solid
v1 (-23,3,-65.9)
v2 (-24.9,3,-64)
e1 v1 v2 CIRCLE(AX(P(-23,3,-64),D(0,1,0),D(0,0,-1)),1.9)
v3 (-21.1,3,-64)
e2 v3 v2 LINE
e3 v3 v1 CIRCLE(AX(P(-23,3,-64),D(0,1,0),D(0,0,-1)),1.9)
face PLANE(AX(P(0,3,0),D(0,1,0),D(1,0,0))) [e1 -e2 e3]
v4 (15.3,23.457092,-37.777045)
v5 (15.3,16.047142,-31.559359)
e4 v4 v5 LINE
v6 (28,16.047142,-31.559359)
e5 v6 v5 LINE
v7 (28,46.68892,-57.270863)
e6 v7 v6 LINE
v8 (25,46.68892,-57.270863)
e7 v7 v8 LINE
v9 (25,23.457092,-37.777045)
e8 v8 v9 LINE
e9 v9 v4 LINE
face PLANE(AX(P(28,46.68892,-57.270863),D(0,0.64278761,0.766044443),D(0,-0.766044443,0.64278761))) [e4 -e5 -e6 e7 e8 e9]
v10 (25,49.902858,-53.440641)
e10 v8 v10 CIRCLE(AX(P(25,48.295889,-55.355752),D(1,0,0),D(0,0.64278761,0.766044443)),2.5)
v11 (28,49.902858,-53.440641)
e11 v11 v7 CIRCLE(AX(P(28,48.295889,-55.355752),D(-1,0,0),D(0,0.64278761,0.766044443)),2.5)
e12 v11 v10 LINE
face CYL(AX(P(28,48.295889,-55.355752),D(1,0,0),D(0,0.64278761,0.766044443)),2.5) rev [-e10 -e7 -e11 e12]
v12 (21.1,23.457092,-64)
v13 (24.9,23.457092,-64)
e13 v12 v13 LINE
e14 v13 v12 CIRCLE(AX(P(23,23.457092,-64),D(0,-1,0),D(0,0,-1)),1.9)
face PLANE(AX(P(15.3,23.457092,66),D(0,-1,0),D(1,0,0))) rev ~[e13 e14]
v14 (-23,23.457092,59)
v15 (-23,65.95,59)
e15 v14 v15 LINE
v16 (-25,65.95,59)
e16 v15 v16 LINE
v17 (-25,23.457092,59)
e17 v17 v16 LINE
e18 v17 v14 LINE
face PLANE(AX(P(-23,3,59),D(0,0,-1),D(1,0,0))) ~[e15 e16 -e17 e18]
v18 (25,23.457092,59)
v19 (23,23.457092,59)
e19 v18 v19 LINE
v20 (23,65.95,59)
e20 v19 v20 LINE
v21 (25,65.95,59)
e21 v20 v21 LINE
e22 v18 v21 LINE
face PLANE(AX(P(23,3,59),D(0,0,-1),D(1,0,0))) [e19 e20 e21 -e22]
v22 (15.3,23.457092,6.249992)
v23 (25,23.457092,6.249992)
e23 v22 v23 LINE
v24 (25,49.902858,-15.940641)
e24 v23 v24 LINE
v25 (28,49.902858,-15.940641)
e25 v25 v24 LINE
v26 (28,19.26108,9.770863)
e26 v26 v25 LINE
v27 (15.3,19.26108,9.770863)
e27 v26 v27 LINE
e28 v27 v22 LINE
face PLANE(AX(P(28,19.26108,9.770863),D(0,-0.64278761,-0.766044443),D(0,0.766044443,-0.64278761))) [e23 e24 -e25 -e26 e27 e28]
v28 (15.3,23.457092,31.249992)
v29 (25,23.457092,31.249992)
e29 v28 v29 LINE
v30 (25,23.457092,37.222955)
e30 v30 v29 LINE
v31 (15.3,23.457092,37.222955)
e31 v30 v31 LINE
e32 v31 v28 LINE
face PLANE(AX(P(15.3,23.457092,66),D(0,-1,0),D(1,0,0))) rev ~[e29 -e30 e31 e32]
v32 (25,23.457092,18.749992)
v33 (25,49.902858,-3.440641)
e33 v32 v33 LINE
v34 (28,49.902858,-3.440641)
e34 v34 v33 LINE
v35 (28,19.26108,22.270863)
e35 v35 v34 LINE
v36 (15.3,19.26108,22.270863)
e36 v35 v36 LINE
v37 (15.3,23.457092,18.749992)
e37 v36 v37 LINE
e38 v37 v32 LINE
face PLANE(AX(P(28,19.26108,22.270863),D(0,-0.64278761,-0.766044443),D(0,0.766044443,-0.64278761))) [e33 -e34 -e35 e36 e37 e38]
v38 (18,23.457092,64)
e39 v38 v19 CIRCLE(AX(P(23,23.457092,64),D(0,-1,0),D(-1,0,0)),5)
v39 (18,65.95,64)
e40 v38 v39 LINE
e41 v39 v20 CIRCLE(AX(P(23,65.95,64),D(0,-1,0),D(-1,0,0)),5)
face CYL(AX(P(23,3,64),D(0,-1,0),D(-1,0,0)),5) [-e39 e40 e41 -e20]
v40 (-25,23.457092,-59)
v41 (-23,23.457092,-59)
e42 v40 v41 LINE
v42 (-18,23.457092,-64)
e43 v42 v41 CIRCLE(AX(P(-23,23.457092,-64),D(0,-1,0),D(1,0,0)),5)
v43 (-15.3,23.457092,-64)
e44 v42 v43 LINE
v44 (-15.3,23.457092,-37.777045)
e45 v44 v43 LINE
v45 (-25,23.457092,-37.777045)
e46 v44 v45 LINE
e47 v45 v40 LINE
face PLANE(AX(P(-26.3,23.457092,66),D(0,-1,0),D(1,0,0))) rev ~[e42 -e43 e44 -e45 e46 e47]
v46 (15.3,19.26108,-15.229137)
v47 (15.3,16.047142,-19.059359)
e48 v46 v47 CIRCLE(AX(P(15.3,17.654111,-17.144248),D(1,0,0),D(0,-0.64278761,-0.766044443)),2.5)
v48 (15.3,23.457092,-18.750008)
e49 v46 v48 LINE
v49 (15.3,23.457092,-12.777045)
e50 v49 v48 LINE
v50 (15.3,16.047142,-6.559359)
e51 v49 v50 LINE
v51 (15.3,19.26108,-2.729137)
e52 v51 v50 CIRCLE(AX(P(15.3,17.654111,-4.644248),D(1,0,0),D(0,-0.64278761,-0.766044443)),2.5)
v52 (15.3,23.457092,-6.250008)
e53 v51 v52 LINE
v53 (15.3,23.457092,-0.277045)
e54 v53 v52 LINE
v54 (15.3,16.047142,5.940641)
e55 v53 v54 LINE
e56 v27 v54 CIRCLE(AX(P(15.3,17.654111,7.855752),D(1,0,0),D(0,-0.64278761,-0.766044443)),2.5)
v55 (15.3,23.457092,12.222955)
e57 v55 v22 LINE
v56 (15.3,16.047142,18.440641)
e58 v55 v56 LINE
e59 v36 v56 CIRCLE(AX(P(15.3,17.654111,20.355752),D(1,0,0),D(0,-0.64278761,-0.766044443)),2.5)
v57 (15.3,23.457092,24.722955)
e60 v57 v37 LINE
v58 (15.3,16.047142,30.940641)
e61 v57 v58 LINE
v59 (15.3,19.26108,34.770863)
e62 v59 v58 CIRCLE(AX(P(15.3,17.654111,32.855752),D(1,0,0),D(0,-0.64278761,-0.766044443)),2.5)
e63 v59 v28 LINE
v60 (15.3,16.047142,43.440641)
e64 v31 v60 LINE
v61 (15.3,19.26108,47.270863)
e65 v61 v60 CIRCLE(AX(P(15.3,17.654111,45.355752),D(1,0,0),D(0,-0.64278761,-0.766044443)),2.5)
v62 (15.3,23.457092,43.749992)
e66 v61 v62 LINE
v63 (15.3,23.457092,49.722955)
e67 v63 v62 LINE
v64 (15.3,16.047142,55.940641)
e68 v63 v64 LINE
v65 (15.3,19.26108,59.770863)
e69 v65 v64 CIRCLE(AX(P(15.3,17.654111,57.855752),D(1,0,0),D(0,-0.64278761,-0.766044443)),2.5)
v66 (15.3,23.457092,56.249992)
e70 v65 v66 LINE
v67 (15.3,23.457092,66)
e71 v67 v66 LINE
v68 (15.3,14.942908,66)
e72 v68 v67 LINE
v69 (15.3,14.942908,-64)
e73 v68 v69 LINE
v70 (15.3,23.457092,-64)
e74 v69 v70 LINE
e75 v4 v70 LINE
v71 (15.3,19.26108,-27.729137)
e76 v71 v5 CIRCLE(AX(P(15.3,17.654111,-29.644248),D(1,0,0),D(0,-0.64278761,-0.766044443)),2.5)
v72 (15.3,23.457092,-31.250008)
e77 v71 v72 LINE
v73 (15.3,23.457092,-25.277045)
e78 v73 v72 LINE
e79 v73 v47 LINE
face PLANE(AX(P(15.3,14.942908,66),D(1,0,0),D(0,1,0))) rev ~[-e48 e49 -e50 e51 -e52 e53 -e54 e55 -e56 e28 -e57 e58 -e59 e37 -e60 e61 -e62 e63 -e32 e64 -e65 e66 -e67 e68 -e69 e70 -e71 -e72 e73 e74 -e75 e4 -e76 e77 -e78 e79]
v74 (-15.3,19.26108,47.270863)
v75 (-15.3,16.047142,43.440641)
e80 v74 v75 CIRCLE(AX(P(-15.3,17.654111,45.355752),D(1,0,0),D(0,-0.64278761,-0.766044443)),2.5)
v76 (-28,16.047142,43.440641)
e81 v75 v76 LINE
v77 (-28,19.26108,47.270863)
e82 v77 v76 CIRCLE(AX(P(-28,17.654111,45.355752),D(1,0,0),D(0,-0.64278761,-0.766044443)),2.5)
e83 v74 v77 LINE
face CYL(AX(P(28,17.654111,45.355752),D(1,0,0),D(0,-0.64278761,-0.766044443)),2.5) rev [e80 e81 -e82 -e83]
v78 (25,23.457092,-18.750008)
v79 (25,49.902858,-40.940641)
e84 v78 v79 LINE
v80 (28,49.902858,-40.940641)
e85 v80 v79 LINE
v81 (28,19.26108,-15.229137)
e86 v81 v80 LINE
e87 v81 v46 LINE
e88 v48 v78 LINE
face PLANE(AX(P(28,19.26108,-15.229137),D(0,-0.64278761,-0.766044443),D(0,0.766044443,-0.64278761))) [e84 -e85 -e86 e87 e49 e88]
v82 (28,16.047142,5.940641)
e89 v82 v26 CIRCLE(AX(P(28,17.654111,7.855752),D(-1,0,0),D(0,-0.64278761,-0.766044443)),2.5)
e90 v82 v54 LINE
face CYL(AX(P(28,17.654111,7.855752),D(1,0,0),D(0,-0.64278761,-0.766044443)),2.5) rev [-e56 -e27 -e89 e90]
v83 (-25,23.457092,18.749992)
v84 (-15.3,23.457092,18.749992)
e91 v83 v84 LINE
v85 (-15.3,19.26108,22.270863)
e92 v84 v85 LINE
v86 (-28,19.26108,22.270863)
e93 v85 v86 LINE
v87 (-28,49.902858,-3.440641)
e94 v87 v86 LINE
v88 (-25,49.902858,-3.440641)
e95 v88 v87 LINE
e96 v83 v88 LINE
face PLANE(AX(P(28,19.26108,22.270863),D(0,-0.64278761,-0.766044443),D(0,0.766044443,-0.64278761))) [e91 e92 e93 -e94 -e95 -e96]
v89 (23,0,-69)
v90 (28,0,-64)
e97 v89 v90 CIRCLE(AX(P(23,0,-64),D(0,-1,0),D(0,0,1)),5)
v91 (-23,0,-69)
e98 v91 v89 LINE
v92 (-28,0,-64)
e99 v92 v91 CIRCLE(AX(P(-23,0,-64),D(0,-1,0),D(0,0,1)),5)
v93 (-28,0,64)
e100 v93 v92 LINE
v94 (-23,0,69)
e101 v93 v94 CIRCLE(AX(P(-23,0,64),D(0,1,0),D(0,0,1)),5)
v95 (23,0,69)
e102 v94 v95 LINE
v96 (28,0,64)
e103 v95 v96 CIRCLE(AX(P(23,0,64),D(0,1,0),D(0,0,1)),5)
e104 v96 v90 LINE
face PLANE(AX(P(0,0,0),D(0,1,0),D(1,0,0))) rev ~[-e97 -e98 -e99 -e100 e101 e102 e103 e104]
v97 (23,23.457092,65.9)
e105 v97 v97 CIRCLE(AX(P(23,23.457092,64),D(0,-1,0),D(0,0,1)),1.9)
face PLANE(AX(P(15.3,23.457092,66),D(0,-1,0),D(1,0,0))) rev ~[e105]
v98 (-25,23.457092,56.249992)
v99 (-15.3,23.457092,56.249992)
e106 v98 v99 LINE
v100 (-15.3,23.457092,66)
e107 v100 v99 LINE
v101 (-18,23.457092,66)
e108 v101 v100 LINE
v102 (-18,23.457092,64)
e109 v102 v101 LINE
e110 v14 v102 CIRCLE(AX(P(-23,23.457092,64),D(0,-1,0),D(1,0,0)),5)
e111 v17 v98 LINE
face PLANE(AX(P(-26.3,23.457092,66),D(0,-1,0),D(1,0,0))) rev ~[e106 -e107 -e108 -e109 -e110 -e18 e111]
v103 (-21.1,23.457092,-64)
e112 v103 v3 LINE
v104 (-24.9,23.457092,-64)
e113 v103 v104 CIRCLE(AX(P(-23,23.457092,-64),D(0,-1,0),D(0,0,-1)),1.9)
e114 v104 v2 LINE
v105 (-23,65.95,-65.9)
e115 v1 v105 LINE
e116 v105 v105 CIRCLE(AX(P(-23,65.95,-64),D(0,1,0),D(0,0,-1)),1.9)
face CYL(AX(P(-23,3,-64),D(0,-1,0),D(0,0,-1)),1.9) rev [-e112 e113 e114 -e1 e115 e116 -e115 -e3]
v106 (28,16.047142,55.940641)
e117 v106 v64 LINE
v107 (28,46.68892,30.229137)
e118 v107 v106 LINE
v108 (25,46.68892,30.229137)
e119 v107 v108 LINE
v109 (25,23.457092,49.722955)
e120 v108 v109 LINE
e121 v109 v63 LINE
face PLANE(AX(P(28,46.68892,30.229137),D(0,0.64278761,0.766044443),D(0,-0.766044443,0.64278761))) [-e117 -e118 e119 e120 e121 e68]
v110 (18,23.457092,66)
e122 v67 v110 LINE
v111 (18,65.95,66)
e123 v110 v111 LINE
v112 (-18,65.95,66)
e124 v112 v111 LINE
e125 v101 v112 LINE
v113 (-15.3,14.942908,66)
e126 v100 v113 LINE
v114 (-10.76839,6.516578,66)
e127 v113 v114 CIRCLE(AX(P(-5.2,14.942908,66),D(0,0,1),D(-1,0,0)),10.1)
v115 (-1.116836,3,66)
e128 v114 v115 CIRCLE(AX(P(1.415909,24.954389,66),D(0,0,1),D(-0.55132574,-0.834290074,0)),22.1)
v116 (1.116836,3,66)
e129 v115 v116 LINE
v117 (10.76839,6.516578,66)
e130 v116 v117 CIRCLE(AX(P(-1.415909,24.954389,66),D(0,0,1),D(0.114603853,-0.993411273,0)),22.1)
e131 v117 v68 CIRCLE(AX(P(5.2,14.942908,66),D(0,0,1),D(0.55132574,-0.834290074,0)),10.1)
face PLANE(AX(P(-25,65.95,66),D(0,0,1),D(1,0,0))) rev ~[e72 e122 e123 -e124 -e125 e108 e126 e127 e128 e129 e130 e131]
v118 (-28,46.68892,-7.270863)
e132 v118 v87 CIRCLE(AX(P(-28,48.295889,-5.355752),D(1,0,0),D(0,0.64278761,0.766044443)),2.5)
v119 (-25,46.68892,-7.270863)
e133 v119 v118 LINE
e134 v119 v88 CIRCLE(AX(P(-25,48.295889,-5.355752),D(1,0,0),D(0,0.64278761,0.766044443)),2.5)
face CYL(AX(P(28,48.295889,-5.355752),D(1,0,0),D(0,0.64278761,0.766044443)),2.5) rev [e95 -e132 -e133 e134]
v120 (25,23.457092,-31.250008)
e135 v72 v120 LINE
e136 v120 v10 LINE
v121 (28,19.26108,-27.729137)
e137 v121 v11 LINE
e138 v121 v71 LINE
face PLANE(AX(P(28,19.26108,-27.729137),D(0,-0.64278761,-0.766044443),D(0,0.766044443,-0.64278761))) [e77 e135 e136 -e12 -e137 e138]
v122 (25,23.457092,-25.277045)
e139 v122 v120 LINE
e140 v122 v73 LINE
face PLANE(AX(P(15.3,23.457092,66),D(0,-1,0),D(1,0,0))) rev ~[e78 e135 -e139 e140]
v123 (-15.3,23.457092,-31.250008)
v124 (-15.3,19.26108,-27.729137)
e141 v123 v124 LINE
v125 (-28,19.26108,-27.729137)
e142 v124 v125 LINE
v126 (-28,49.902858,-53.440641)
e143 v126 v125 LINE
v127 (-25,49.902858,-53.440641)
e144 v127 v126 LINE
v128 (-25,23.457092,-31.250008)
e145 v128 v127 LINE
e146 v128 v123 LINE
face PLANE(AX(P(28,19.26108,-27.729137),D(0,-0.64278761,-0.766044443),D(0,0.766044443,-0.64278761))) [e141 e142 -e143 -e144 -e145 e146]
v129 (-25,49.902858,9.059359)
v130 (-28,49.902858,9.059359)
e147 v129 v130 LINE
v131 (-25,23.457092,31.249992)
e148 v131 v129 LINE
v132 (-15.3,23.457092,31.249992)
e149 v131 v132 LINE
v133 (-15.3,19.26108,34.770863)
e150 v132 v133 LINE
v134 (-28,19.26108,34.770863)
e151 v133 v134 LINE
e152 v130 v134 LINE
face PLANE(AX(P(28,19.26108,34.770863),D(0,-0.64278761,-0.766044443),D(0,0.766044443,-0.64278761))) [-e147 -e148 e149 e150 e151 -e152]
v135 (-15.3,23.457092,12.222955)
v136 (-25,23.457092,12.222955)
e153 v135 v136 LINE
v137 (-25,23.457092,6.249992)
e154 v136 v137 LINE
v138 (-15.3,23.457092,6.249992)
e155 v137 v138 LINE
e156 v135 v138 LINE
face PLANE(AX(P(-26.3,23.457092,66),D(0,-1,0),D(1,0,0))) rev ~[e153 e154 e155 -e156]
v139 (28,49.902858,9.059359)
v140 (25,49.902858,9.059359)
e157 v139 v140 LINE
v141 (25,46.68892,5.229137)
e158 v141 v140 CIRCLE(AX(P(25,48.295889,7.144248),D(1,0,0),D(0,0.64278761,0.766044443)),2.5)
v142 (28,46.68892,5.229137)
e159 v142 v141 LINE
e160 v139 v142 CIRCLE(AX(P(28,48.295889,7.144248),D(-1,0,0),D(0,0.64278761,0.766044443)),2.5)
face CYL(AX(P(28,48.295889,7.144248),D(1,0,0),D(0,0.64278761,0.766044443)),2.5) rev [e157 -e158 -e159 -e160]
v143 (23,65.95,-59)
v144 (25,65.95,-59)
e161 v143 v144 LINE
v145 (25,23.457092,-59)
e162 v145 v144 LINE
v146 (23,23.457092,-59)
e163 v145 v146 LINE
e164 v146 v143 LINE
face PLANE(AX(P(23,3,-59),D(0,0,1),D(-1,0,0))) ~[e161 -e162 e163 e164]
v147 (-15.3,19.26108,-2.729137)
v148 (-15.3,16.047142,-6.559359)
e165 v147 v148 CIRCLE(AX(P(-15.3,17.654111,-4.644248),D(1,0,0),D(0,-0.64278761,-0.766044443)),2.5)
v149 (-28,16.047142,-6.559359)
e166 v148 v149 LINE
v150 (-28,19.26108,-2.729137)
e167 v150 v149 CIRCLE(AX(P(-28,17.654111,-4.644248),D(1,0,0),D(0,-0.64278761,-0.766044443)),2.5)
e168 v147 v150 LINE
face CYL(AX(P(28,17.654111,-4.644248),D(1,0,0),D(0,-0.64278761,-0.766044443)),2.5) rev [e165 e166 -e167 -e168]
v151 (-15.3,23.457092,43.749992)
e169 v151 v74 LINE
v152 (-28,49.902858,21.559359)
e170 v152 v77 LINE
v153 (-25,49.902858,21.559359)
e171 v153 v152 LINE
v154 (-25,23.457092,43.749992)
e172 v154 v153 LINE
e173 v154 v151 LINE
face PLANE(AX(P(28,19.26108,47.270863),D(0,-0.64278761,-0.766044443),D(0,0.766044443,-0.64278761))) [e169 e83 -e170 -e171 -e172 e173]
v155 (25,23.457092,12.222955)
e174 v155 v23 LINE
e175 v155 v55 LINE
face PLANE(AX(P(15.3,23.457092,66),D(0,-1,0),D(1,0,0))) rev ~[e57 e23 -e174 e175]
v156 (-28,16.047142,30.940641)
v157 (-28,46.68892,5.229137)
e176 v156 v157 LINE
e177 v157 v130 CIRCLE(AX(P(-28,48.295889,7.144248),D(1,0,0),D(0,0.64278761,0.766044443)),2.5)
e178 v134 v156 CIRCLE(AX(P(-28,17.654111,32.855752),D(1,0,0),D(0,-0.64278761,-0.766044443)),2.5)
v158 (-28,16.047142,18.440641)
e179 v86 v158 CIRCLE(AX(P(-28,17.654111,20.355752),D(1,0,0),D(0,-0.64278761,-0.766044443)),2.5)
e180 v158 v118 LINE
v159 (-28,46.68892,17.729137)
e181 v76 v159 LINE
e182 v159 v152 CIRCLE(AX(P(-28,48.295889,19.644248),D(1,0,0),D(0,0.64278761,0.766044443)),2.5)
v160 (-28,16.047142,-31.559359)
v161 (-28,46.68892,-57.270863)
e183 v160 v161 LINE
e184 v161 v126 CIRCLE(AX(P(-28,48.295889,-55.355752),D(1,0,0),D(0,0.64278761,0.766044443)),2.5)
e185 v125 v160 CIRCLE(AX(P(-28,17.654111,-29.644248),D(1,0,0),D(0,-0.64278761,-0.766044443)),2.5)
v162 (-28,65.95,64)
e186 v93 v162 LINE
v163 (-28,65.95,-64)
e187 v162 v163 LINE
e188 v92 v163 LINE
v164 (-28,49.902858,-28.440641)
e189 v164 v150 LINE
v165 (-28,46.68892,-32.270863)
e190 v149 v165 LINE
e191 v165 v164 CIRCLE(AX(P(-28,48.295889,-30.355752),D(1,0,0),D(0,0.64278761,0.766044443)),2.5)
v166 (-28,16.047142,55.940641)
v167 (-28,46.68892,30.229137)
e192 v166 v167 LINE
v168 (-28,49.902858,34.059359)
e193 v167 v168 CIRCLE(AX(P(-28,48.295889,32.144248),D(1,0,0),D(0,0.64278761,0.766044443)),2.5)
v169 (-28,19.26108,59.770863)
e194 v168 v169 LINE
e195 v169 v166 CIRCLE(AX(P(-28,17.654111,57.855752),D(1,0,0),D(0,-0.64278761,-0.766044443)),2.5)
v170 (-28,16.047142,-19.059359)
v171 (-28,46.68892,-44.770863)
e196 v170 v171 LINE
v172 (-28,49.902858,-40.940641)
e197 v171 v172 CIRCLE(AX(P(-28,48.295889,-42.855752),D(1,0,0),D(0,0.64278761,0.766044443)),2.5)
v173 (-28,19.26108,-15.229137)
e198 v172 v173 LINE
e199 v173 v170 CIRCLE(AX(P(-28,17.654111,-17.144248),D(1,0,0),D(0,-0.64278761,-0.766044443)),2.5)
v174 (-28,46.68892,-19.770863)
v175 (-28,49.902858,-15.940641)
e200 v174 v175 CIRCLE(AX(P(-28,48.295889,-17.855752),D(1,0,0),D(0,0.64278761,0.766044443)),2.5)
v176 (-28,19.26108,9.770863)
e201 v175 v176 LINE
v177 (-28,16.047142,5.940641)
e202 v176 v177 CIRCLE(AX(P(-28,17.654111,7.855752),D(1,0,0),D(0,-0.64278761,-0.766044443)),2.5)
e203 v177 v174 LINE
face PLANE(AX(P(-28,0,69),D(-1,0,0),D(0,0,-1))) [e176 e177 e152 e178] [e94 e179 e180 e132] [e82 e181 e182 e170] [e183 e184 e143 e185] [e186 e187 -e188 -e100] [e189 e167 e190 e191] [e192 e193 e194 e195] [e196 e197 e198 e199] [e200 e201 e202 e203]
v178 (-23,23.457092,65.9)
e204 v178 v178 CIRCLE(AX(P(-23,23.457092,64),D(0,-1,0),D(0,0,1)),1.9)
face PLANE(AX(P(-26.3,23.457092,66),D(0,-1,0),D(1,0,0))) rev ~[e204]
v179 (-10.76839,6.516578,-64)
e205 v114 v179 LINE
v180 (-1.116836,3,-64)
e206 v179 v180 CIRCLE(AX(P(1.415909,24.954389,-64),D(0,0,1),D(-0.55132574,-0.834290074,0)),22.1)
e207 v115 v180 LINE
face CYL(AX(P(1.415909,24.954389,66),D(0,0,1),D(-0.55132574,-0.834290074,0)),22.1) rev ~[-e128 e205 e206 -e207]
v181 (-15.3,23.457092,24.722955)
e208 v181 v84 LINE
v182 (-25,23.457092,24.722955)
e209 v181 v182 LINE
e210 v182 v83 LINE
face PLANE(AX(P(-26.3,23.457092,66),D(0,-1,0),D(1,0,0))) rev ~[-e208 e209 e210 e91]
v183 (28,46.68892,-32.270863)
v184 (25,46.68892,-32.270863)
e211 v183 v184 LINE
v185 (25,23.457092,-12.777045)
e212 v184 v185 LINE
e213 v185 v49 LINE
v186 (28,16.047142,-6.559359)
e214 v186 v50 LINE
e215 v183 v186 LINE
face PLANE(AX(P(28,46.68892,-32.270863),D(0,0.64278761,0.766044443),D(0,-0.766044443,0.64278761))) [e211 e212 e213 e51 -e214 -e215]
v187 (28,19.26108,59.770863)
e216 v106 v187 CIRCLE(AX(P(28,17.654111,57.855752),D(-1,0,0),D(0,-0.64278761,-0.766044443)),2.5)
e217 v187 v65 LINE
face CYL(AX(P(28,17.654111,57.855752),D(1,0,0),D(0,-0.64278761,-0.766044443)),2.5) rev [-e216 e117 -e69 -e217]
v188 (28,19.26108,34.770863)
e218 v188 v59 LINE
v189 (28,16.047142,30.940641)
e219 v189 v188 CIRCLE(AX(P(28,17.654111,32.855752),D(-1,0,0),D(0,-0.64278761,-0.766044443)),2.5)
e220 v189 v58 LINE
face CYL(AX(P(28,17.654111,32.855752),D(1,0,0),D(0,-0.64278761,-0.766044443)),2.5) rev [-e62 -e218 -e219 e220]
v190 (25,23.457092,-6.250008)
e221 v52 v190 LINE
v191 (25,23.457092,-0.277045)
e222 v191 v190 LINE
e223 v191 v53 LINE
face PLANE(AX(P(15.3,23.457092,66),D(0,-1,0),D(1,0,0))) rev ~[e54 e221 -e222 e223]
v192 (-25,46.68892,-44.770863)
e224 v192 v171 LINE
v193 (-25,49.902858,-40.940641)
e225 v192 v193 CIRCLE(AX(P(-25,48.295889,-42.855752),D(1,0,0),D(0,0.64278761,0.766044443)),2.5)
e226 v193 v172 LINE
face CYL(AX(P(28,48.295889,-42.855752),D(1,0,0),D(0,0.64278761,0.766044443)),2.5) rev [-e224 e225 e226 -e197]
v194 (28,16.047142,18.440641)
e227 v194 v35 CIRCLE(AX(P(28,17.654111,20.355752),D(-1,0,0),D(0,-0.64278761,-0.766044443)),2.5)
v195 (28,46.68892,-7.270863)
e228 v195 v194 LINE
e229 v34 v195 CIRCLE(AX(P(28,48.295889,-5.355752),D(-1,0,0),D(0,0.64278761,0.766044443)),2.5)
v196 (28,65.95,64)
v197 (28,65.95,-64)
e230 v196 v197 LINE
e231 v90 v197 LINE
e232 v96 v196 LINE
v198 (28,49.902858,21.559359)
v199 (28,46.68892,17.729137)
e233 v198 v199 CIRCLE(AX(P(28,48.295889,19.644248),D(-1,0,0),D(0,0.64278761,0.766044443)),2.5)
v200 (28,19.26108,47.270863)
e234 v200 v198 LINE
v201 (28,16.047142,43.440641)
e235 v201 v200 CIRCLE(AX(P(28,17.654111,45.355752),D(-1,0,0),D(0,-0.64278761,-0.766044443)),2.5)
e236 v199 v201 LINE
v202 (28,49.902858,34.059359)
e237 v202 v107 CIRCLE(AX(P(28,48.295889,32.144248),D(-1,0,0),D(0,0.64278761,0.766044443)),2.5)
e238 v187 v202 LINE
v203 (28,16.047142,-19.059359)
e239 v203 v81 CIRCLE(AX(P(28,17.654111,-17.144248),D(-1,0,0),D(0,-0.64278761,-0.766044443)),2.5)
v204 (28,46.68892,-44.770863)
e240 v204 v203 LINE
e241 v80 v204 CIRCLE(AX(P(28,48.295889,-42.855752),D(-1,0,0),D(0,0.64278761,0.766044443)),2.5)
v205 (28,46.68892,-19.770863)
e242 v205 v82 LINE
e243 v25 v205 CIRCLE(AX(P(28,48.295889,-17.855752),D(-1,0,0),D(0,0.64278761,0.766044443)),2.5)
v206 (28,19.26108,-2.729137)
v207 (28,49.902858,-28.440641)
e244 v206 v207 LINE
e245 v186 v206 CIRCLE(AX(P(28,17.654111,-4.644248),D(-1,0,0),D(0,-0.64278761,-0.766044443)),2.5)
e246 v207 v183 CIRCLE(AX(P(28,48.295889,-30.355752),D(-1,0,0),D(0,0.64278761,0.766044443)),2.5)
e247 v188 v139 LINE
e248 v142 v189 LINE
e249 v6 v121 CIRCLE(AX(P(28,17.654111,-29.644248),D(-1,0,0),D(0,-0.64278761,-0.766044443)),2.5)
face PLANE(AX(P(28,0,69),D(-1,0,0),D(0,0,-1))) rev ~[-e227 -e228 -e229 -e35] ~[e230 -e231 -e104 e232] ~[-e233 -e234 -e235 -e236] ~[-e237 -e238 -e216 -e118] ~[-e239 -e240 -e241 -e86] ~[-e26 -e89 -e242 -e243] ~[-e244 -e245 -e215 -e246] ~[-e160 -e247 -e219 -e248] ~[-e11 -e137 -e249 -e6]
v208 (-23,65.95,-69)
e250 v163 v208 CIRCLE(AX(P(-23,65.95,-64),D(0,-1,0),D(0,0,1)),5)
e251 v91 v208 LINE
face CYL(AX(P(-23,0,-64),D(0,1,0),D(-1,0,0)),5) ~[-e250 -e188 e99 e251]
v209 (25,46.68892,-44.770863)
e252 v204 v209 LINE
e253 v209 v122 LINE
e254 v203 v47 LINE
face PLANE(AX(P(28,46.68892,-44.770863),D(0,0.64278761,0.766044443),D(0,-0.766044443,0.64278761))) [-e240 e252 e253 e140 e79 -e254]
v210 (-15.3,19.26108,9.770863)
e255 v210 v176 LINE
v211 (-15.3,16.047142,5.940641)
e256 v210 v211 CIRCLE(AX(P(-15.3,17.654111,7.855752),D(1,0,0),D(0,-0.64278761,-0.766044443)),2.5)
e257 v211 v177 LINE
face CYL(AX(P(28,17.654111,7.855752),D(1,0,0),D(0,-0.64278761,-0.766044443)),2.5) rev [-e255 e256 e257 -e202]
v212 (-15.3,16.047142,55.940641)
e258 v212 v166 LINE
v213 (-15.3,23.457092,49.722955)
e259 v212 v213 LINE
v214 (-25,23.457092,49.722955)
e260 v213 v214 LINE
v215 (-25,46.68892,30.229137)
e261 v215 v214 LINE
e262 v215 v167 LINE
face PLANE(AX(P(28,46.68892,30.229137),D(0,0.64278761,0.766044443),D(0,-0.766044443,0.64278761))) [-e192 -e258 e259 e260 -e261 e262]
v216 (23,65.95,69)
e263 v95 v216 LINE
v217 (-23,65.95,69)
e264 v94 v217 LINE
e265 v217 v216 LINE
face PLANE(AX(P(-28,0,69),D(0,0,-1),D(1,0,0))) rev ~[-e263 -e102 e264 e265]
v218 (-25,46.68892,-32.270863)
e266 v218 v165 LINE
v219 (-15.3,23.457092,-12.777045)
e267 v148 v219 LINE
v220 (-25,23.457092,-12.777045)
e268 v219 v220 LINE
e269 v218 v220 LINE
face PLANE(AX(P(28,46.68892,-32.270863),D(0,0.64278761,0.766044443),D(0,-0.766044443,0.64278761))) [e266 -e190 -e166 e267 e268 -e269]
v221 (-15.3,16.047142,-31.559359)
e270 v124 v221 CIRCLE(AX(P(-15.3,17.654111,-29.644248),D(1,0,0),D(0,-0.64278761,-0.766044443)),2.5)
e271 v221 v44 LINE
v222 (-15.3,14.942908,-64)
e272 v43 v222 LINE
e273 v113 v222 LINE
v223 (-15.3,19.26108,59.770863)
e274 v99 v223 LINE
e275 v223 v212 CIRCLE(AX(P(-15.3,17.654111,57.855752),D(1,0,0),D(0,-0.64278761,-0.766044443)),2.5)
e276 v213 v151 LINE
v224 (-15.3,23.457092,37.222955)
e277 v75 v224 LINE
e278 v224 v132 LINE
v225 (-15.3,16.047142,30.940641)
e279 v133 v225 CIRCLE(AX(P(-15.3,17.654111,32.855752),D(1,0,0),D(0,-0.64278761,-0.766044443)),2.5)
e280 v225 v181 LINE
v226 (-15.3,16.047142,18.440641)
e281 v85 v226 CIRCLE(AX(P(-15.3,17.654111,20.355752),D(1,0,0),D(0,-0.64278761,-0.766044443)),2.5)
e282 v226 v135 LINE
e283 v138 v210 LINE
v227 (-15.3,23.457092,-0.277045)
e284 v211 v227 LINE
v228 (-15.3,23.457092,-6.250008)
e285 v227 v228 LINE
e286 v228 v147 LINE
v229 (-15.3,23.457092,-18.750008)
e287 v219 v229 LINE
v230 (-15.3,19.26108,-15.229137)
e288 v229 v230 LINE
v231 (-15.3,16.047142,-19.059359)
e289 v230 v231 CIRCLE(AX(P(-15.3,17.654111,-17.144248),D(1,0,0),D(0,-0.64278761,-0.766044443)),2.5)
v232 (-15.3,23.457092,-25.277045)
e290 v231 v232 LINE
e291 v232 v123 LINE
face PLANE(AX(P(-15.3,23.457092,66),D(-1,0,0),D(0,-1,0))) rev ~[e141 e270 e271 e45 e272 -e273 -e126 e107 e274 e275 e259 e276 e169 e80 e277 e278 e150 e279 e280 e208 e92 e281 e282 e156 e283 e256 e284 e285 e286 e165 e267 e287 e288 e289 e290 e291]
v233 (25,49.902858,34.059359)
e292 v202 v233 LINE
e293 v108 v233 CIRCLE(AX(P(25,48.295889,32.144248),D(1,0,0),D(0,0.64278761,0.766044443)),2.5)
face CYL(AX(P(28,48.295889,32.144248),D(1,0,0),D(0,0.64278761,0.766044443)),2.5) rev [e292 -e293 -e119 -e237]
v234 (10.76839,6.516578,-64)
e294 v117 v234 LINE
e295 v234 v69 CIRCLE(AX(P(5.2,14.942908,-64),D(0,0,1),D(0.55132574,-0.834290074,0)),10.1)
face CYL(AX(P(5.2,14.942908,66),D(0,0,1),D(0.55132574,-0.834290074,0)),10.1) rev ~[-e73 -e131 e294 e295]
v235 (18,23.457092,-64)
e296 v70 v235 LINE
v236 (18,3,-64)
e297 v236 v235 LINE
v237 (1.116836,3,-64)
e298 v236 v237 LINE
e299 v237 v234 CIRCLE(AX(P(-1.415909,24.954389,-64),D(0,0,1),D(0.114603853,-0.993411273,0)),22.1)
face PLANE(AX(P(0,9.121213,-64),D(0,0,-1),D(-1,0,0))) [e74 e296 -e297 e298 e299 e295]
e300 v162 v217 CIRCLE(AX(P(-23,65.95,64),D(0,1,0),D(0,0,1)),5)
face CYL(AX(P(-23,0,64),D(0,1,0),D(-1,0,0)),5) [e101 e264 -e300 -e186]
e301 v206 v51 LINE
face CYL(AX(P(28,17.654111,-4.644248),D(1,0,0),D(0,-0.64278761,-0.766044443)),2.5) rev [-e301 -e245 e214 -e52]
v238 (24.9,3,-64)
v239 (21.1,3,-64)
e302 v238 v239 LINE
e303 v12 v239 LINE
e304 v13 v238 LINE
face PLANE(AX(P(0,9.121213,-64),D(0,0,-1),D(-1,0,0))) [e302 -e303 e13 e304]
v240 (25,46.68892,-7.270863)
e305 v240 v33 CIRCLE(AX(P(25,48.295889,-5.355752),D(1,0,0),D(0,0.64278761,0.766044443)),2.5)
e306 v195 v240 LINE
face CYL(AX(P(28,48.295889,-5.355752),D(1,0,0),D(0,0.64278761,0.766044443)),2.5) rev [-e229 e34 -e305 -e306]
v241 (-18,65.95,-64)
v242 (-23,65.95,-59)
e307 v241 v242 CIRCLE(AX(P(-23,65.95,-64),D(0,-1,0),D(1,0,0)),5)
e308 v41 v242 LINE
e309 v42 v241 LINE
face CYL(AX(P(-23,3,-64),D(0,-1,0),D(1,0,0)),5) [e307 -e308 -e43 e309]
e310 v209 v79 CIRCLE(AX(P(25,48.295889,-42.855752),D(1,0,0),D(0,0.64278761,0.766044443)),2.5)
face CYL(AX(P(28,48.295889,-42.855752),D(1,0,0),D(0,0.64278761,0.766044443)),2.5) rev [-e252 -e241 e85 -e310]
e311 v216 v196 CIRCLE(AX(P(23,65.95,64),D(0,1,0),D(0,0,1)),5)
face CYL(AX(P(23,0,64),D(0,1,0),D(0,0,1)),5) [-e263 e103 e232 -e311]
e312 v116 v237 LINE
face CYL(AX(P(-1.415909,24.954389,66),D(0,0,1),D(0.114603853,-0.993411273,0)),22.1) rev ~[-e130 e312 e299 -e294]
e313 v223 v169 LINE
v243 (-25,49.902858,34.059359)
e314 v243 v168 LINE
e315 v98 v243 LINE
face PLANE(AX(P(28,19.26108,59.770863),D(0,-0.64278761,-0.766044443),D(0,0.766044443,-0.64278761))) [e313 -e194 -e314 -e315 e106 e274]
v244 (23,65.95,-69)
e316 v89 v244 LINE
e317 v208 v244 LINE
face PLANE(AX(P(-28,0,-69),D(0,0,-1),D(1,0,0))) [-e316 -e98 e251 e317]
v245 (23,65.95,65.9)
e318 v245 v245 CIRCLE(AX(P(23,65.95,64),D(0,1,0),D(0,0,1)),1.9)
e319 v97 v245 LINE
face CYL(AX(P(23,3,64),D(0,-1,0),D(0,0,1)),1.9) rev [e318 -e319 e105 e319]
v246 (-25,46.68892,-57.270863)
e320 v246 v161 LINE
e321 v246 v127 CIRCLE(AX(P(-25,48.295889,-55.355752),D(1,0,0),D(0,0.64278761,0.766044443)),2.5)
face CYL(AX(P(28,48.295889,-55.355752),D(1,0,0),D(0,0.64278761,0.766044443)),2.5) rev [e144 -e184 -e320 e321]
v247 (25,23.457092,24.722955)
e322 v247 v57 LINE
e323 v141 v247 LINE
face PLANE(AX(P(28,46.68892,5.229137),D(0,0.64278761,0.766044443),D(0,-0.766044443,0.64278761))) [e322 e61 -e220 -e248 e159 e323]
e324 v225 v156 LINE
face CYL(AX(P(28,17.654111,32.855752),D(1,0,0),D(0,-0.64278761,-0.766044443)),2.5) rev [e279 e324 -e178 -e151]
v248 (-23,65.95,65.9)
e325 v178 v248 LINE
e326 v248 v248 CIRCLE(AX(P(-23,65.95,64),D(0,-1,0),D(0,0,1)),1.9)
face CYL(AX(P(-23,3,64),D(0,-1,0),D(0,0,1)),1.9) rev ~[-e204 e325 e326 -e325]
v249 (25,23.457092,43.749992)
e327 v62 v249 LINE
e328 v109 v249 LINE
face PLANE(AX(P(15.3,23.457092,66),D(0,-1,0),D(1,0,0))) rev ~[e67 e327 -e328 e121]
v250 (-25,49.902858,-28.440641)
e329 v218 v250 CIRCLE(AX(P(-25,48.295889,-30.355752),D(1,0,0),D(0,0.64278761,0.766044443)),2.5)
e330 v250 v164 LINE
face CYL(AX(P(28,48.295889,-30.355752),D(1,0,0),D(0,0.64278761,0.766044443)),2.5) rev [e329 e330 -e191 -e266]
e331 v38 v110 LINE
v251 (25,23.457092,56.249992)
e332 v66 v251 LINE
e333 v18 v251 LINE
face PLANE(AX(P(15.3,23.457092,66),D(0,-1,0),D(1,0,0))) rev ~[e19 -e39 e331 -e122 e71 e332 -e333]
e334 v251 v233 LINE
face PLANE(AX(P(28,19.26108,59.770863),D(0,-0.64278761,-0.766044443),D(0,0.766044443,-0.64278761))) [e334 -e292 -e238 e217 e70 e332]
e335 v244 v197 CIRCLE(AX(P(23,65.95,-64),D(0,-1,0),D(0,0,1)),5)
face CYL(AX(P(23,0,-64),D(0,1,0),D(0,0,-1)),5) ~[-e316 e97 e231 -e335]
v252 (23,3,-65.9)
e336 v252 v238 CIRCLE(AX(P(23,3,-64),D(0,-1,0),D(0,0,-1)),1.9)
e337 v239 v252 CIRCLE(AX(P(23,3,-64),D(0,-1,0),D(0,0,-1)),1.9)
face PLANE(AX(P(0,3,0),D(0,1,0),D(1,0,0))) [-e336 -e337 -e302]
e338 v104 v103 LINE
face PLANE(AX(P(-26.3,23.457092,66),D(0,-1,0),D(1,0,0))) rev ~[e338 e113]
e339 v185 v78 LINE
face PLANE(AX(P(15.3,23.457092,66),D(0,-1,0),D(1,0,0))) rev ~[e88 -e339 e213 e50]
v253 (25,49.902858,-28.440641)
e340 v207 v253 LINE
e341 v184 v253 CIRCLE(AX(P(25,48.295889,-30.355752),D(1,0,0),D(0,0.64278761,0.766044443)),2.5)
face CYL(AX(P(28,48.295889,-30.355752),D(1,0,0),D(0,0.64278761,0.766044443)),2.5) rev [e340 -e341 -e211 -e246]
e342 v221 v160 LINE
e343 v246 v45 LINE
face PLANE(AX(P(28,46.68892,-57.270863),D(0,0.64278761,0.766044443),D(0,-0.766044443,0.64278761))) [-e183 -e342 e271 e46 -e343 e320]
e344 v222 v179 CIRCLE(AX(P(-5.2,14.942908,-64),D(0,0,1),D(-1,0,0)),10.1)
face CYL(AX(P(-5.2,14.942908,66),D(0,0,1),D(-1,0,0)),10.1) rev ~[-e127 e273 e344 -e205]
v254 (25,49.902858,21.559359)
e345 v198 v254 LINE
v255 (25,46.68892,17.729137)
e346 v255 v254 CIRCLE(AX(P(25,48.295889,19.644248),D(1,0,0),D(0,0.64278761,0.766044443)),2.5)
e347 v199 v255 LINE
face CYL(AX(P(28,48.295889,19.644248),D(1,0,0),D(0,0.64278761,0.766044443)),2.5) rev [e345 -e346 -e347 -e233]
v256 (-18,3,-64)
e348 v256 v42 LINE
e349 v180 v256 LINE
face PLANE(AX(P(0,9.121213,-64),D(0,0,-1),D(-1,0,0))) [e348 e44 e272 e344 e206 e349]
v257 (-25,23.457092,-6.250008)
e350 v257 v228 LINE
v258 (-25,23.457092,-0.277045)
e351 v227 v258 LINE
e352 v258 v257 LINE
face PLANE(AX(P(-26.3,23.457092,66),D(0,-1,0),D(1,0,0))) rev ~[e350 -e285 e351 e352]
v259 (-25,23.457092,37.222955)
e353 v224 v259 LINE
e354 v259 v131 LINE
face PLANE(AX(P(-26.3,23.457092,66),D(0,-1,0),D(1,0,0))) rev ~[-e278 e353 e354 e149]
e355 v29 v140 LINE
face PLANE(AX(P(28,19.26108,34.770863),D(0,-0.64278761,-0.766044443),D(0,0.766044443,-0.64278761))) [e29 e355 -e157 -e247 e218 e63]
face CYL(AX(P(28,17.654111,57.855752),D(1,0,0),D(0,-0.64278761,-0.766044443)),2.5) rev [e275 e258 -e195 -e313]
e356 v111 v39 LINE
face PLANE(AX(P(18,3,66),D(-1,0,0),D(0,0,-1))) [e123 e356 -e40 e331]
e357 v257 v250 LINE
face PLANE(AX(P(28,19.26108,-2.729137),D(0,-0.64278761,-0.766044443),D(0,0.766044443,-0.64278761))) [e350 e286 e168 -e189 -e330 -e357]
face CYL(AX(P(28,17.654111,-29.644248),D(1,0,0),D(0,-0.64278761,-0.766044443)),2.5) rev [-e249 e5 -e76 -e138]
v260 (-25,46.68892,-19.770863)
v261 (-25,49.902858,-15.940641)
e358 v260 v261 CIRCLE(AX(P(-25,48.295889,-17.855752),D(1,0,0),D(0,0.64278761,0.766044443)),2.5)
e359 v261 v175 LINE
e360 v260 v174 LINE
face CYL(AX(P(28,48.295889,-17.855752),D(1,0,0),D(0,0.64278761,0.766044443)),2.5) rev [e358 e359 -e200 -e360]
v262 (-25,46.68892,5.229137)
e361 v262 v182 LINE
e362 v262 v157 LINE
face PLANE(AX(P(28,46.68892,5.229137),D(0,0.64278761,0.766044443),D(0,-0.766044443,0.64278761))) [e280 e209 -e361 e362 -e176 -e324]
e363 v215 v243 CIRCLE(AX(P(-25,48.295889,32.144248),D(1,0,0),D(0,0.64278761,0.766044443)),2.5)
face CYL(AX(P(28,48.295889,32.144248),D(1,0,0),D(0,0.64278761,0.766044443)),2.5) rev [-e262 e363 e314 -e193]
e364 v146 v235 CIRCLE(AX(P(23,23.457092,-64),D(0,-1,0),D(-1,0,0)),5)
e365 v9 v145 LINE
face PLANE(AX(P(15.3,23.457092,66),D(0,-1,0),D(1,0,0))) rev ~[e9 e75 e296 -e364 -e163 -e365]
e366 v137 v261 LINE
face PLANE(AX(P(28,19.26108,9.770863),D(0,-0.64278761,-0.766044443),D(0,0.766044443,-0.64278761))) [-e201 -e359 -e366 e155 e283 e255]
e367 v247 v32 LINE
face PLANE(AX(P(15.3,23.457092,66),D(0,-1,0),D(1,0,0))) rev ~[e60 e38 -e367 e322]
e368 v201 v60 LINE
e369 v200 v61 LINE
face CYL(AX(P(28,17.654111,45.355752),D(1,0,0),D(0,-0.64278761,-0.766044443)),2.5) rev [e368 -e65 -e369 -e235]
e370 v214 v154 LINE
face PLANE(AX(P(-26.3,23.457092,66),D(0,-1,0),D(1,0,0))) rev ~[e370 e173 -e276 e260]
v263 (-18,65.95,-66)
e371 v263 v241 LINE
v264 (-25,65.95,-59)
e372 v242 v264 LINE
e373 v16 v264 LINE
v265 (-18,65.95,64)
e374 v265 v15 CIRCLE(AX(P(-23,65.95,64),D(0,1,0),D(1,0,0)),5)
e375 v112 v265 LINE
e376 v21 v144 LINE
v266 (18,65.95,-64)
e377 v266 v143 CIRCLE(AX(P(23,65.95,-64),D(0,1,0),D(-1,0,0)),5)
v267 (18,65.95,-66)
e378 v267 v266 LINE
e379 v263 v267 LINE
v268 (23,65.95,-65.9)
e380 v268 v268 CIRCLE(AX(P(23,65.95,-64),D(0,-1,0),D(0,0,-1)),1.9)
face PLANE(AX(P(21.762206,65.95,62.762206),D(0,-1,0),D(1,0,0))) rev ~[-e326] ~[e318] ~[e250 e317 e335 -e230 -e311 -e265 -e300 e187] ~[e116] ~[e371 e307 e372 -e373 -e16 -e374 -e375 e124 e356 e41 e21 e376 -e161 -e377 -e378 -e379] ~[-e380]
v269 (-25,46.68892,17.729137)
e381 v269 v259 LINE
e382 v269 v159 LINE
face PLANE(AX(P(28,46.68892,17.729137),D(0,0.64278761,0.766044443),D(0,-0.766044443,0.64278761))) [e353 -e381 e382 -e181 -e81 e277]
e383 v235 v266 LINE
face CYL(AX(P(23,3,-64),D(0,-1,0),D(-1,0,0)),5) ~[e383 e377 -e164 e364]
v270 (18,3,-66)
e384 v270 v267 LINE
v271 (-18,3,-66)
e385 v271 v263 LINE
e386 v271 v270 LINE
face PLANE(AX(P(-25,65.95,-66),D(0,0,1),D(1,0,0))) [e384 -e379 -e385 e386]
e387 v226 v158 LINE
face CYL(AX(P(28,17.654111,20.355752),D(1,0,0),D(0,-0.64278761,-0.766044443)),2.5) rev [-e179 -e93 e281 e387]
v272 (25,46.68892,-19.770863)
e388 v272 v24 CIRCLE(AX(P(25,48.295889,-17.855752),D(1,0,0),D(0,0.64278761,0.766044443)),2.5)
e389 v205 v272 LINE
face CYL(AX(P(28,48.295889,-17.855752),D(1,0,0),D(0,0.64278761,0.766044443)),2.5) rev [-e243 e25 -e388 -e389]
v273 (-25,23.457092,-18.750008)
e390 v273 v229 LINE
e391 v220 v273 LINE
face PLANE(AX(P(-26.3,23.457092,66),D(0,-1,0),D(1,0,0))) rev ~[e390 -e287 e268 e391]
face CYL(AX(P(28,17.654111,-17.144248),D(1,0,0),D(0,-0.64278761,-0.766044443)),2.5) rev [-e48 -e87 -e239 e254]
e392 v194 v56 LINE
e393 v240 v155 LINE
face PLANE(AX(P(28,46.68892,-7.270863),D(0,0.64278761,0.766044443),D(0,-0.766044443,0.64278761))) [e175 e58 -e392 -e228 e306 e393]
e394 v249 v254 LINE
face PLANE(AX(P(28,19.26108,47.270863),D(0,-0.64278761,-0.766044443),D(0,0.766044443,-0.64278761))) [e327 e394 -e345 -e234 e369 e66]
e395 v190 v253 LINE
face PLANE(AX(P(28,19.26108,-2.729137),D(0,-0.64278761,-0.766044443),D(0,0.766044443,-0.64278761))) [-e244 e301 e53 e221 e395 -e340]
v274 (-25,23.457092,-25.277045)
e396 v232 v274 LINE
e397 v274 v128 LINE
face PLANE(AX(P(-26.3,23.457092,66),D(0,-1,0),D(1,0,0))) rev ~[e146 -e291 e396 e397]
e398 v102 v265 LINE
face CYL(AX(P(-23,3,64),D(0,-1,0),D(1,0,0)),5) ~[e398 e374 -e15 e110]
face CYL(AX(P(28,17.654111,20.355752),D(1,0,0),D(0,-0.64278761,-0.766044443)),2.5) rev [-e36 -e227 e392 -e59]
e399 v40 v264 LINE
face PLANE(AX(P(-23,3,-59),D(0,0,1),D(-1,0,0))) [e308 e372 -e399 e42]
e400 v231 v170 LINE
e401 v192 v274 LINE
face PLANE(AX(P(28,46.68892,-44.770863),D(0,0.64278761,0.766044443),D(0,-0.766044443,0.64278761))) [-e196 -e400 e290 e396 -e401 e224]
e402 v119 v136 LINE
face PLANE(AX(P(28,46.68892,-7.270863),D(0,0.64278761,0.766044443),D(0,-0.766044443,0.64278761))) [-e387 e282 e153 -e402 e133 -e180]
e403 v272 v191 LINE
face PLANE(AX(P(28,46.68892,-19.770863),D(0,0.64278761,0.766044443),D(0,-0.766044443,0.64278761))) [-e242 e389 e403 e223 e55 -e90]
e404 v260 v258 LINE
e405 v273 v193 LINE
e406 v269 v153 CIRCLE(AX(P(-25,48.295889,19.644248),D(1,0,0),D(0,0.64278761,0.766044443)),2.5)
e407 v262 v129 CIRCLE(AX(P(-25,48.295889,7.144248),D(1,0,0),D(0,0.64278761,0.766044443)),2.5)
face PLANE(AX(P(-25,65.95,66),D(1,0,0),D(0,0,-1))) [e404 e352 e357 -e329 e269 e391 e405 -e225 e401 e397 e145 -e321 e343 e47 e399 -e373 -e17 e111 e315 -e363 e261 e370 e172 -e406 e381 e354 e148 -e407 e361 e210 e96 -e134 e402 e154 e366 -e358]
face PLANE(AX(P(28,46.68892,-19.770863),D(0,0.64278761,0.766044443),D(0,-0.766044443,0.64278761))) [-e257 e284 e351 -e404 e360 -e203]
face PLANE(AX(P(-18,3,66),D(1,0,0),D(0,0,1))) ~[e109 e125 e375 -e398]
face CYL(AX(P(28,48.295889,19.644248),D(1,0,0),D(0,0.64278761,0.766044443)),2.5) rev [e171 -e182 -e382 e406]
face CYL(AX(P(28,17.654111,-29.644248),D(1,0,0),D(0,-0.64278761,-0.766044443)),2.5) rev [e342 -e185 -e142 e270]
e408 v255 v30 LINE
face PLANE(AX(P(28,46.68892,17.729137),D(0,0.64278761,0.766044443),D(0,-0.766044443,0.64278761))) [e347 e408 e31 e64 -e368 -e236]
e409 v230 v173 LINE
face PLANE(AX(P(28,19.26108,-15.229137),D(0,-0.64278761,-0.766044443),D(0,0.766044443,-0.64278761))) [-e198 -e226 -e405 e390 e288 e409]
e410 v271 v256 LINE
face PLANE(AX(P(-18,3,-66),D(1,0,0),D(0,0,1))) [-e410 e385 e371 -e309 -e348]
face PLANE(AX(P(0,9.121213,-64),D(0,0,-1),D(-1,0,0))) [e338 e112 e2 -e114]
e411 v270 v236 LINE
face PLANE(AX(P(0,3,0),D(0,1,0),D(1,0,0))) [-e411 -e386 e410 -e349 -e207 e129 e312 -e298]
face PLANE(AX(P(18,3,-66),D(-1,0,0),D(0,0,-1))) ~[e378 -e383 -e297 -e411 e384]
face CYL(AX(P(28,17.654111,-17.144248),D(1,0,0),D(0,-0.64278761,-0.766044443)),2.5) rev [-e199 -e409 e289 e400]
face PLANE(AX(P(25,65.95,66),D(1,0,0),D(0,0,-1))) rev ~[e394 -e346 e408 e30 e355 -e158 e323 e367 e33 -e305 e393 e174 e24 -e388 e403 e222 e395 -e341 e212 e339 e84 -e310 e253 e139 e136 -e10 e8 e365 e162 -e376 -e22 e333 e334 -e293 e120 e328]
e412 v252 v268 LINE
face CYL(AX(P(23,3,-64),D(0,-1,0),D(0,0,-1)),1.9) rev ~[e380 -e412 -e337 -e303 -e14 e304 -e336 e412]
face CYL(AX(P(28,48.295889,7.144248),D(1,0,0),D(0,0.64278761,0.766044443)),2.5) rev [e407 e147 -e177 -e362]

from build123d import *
from OCP.BRepFilletAPI import BRepFilletAPI_MakeFillet

# Parameters (mm, degrees)
SKETCH1_W               = 56
SKETCH1_H               = 138
BOSS_EXTRUDE1_DEPTH     = 65.95
SKETCH2_W               = 50
SKETCH2_H               = 132
CUT_EXTRUDE1_DEPTH      = 62.95
FILLET1_R1              = 2
FILLET1_R2              = 5
SKETCH3_R               = 1.9
BOSS_EXTRUDE2_DEPTH     = 62.95
MIRROR5_COPY_1_SKETCH_R = 1.9
MIRROR5_COPY_1_DEPTH    = 62.95
BOSS_EXTRUDE3_DEPTH     = 130
CUT_EXTRUDE2_DEPTH      = 74


with BuildPart() as part:
    # Sketch1 → Boss-Extrude1 (new body)
    with BuildSketch(Plane(origin=(0, 0, 0), x_dir=(1, 0, 0), z_dir=(0, 1, 0))):
        Rectangle(SKETCH1_W, SKETCH1_H)
    extrude(amount=BOSS_EXTRUDE1_DEPTH)

    # Sketch2 → Cut-Extrude1 (cut)
    with BuildSketch(Plane(origin=(0, 65.95, 0), x_dir=(1, 0, 0), z_dir=(0, 1, 0))):
        Rectangle(SKETCH2_W, SKETCH2_H)
    extrude(amount=-CUT_EXTRUDE1_DEPTH, mode=Mode.SUBTRACT)

    # Fillet1: one fillet with a radius per group of edges: ONE call of the kernel's fillet builder (fillet() takes one radius for all edges)
    fillet1_edges_1 = [part.edges().sort_by_distance(p)[0] for p in [
        (-25, 34.475, -66),
        (25, 34.475, -66),
        (-25, 34.475, 66),
        (25, 34.475, 66),
    ]]
    fillet1_edges_2 = [part.edges().sort_by_distance(p)[0] for p in [
        (-28, 32.975, -69),
        (28, 32.975, 69),
        (-28, 32.975, 69),
        (28, 32.975, -69),
    ]]
    fillet1 = BRepFilletAPI_MakeFillet(part.part.solid().wrapped)
    for e in fillet1_edges_1:
        fillet1.Add(FILLET1_R1, e.wrapped)
    for e in fillet1_edges_2:
        fillet1.Add(FILLET1_R2, e.wrapped)
    add(Compound.cast(fillet1.Shape()), mode=Mode.REPLACE)

    # Sketch3 → Boss-Extrude2 (add)
    with BuildSketch(Plane(origin=(0, 3, 0), x_dir=(1, 0, 0), z_dir=(0, 1, 0))):
        with BuildLine():
            Line((-23, 59), (-25, 59))
            Line((-25, 59), (-25, 64))
            ThreePointArc((-25, 64), (-24.414213562, 65.414213562), (-23, 66))
            Line((-23, 66), (-18, 66))
            Line((-18, 66), (-18, 64))
            ThreePointArc((-18, 64), (-19.464466094, 60.464466094), (-23, 59))
        make_face()
        with Locations(Location((-23, 64, 0), (0, 0, 90))):
            Circle(SKETCH3_R, mode=Mode.SUBTRACT)
    boss_extrude2 = extrude(amount=BOSS_EXTRUDE2_DEPTH)

    # Mirror4: Boss-Extrude2 across plane
    add(boss_extrude2.mirror(Plane.ZY))

    # Mirror5: Boss-Extrude2 across plane
    add(boss_extrude2.mirror(Plane.XY))

    # Mirror5 copy 1 sketch → Mirror5 copy 1 (add)
    with BuildSketch(Plane(origin=(0, 3, 0), x_dir=(-1, 0, 0), z_dir=(0, 1, 0))):
        with BuildLine():
            Line((-23, 59), (-25, 59))
            Line((-25, 59), (-25, 64))
            ThreePointArc((-25, 64), (-24.414213562, 65.414213562), (-23, 66))
            Line((-23, 66), (-18, 66))
            Line((-18, 66), (-18, 64))
            ThreePointArc((-18, 64), (-19.464466094, 60.464466094), (-23, 59))
        make_face()
        with Locations(Location((-23, 64, 0), (0, 0, 90))):
            Circle(MIRROR5_COPY_1_SKETCH_R, mode=Mode.SUBTRACT)
    extrude(amount=MIRROR5_COPY_1_DEPTH)

    # Sketch5 → Boss-Extrude3 (add)
    with BuildSketch(Plane(origin=(0, 0, 66), x_dir=(-1, 0, 0), z_dir=(0, 0, -1))):
        with BuildLine():
            ThreePointArc((0, 2.89979319), (-0.559053777, 2.942812119), (-1.116836261, 3))
            Line((-1.116836261, 3), (-18, 3))
            Line((-18, 3), (-18, 23.457091763))
            Line((-18, 23.457091763), (-26.3, 23.457091763))
            Line((-26.3, 23.457091763), (-26.3, 2.516966341))
            Line((-26.3, 2.516966341), (26.3, 2.516966341))
            Line((26.3, 2.516966341), (26.3, 23.457091763))
            Line((26.3, 23.457091763), (18, 23.457091763))
            Line((18, 23.457091763), (18, 3))
            Line((18, 3), (1.116836261, 3))
            ThreePointArc((1.116836261, 3), (0.559053777, 2.942812119), (0, 2.89979319))
        make_face()
        with BuildLine():
            Line((-18, 3), (-1.116836261, 3))
            ThreePointArc((-1.116836261, 3), (-6.149765384, 4.18974194), (-10.768389976, 6.516578486))
            ThreePointArc((-10.768389976, 6.516578486), (-14.0952442, 10.159119925), (-15.3, 14.942908237))
            Line((-15.3, 14.942908237), (-15.3, 23.457091763))
            Line((-15.3, 23.457091763), (-18, 23.457091763))
            Line((-18, 23.457091763), (-18, 3))
        make_face()
        with BuildLine():
            ThreePointArc((10.768389976, 6.516578486), (6.149765384, 4.18974194), (1.116836261, 3))
            Line((1.116836261, 3), (18, 3))
            Line((18, 3), (18, 23.457091763))
            Line((18, 23.457091763), (15.3, 23.457091763))
            Line((15.3, 23.457091763), (15.3, 14.942908237))
            ThreePointArc((15.3, 14.942908237), (14.0952442, 10.159119925), (10.768389976, 6.516578486))
        make_face()
    extrude(amount=BOSS_EXTRUDE3_DEPTH)

    # Sketch4 → Cut-Extrude2 (cut)
    with BuildSketch(Plane(origin=(28, 0, 0), x_dir=(0, 0, -1), z_dir=(1, 0, 0))):
        with BuildLine():
            Line((-59.770863302, 19.261080162), (-34.059358914, 49.902857887))
            ThreePointArc((-34.059358914, 49.902857887), (-30.537278782, 50.21099997), (-30.229136698, 46.688919838))
            Line((-30.229136698, 46.688919838), (-55.940641086, 16.047142113))
            ThreePointArc((-55.940641086, 16.047142113), (-59.462721218, 15.73900003), (-59.770863302, 19.261080162))
        make_face()
        with BuildLine():
            Line((-47.270863302, 19.261080162), (-21.559358914, 49.902857887))
            ThreePointArc((-21.559358914, 49.902857887), (-18.037278782, 50.21099997), (-17.729136698, 46.688919838))
            Line((-17.729136698, 46.688919838), (-43.440641086, 16.047142113))
            ThreePointArc((-43.440641086, 16.047142113), (-46.962721218, 15.73900003), (-47.270863302, 19.261080162))
        make_face()
        with BuildLine():
            Line((-34.770863302, 19.261080162), (-9.059358914, 49.902857887))
            ThreePointArc((-9.059358914, 49.902857887), (-5.537278782, 50.21099997), (-5.229136698, 46.688919838))
            Line((-5.229136698, 46.688919838), (-30.940641086, 16.047142113))
            ThreePointArc((-30.940641086, 16.047142113), (-34.462721218, 15.73900003), (-34.770863302, 19.261080162))
        make_face()
        with BuildLine():
            Line((-22.270863302, 19.261080162), (3.440641086, 49.902857887))
            ThreePointArc((3.440641086, 49.902857887), (6.962721218, 50.21099997), (7.270863302, 46.688919838))
            Line((7.270863302, 46.688919838), (-18.440641086, 16.047142113))
            ThreePointArc((-18.440641086, 16.047142113), (-21.962721218, 15.73900003), (-22.270863302, 19.261080162))
        make_face()
        with BuildLine():
            Line((-9.770863302, 19.261080162), (15.940641086, 49.902857887))
            ThreePointArc((15.940641086, 49.902857887), (19.462721218, 50.21099997), (19.770863302, 46.688919838))
            Line((19.770863302, 46.688919838), (-5.940641086, 16.047142113))
            ThreePointArc((-5.940641086, 16.047142113), (-9.462721218, 15.73900003), (-9.770863302, 19.261080162))
        make_face()
        with BuildLine():
            Line((2.729136698, 19.261080162), (28.440641086, 49.902857887))
            ThreePointArc((28.440641086, 49.902857887), (31.962721218, 50.21099997), (32.270863302, 46.688919838))
            Line((32.270863302, 46.688919838), (6.559358914, 16.047142113))
            ThreePointArc((6.559358914, 16.047142113), (3.037278782, 15.73900003), (2.729136698, 19.261080162))
        make_face()
        with BuildLine():
            Line((15.229136698, 19.261080162), (40.940641086, 49.902857887))
            ThreePointArc((40.940641086, 49.902857887), (44.462721218, 50.21099997), (44.770863302, 46.688919838))
            Line((44.770863302, 46.688919838), (19.059358914, 16.047142113))
            ThreePointArc((19.059358914, 16.047142113), (15.537278782, 15.73900003), (15.229136698, 19.261080162))
        make_face()
        with BuildLine():
            Line((27.729136698, 19.261080162), (53.440641086, 49.902857887))
            ThreePointArc((53.440641086, 49.902857887), (56.962721218, 50.21099997), (57.270863302, 46.688919838))
            Line((57.270863302, 46.688919838), (31.559358914, 16.047142113))
            ThreePointArc((31.559358914, 16.047142113), (28.037278782, 15.73900003), (27.729136698, 19.261080162))
        make_face()
    extrude(amount=-CUT_EXTRUDE2_DEPTH, mode=Mode.SUBTRACT)


solid = part.part
